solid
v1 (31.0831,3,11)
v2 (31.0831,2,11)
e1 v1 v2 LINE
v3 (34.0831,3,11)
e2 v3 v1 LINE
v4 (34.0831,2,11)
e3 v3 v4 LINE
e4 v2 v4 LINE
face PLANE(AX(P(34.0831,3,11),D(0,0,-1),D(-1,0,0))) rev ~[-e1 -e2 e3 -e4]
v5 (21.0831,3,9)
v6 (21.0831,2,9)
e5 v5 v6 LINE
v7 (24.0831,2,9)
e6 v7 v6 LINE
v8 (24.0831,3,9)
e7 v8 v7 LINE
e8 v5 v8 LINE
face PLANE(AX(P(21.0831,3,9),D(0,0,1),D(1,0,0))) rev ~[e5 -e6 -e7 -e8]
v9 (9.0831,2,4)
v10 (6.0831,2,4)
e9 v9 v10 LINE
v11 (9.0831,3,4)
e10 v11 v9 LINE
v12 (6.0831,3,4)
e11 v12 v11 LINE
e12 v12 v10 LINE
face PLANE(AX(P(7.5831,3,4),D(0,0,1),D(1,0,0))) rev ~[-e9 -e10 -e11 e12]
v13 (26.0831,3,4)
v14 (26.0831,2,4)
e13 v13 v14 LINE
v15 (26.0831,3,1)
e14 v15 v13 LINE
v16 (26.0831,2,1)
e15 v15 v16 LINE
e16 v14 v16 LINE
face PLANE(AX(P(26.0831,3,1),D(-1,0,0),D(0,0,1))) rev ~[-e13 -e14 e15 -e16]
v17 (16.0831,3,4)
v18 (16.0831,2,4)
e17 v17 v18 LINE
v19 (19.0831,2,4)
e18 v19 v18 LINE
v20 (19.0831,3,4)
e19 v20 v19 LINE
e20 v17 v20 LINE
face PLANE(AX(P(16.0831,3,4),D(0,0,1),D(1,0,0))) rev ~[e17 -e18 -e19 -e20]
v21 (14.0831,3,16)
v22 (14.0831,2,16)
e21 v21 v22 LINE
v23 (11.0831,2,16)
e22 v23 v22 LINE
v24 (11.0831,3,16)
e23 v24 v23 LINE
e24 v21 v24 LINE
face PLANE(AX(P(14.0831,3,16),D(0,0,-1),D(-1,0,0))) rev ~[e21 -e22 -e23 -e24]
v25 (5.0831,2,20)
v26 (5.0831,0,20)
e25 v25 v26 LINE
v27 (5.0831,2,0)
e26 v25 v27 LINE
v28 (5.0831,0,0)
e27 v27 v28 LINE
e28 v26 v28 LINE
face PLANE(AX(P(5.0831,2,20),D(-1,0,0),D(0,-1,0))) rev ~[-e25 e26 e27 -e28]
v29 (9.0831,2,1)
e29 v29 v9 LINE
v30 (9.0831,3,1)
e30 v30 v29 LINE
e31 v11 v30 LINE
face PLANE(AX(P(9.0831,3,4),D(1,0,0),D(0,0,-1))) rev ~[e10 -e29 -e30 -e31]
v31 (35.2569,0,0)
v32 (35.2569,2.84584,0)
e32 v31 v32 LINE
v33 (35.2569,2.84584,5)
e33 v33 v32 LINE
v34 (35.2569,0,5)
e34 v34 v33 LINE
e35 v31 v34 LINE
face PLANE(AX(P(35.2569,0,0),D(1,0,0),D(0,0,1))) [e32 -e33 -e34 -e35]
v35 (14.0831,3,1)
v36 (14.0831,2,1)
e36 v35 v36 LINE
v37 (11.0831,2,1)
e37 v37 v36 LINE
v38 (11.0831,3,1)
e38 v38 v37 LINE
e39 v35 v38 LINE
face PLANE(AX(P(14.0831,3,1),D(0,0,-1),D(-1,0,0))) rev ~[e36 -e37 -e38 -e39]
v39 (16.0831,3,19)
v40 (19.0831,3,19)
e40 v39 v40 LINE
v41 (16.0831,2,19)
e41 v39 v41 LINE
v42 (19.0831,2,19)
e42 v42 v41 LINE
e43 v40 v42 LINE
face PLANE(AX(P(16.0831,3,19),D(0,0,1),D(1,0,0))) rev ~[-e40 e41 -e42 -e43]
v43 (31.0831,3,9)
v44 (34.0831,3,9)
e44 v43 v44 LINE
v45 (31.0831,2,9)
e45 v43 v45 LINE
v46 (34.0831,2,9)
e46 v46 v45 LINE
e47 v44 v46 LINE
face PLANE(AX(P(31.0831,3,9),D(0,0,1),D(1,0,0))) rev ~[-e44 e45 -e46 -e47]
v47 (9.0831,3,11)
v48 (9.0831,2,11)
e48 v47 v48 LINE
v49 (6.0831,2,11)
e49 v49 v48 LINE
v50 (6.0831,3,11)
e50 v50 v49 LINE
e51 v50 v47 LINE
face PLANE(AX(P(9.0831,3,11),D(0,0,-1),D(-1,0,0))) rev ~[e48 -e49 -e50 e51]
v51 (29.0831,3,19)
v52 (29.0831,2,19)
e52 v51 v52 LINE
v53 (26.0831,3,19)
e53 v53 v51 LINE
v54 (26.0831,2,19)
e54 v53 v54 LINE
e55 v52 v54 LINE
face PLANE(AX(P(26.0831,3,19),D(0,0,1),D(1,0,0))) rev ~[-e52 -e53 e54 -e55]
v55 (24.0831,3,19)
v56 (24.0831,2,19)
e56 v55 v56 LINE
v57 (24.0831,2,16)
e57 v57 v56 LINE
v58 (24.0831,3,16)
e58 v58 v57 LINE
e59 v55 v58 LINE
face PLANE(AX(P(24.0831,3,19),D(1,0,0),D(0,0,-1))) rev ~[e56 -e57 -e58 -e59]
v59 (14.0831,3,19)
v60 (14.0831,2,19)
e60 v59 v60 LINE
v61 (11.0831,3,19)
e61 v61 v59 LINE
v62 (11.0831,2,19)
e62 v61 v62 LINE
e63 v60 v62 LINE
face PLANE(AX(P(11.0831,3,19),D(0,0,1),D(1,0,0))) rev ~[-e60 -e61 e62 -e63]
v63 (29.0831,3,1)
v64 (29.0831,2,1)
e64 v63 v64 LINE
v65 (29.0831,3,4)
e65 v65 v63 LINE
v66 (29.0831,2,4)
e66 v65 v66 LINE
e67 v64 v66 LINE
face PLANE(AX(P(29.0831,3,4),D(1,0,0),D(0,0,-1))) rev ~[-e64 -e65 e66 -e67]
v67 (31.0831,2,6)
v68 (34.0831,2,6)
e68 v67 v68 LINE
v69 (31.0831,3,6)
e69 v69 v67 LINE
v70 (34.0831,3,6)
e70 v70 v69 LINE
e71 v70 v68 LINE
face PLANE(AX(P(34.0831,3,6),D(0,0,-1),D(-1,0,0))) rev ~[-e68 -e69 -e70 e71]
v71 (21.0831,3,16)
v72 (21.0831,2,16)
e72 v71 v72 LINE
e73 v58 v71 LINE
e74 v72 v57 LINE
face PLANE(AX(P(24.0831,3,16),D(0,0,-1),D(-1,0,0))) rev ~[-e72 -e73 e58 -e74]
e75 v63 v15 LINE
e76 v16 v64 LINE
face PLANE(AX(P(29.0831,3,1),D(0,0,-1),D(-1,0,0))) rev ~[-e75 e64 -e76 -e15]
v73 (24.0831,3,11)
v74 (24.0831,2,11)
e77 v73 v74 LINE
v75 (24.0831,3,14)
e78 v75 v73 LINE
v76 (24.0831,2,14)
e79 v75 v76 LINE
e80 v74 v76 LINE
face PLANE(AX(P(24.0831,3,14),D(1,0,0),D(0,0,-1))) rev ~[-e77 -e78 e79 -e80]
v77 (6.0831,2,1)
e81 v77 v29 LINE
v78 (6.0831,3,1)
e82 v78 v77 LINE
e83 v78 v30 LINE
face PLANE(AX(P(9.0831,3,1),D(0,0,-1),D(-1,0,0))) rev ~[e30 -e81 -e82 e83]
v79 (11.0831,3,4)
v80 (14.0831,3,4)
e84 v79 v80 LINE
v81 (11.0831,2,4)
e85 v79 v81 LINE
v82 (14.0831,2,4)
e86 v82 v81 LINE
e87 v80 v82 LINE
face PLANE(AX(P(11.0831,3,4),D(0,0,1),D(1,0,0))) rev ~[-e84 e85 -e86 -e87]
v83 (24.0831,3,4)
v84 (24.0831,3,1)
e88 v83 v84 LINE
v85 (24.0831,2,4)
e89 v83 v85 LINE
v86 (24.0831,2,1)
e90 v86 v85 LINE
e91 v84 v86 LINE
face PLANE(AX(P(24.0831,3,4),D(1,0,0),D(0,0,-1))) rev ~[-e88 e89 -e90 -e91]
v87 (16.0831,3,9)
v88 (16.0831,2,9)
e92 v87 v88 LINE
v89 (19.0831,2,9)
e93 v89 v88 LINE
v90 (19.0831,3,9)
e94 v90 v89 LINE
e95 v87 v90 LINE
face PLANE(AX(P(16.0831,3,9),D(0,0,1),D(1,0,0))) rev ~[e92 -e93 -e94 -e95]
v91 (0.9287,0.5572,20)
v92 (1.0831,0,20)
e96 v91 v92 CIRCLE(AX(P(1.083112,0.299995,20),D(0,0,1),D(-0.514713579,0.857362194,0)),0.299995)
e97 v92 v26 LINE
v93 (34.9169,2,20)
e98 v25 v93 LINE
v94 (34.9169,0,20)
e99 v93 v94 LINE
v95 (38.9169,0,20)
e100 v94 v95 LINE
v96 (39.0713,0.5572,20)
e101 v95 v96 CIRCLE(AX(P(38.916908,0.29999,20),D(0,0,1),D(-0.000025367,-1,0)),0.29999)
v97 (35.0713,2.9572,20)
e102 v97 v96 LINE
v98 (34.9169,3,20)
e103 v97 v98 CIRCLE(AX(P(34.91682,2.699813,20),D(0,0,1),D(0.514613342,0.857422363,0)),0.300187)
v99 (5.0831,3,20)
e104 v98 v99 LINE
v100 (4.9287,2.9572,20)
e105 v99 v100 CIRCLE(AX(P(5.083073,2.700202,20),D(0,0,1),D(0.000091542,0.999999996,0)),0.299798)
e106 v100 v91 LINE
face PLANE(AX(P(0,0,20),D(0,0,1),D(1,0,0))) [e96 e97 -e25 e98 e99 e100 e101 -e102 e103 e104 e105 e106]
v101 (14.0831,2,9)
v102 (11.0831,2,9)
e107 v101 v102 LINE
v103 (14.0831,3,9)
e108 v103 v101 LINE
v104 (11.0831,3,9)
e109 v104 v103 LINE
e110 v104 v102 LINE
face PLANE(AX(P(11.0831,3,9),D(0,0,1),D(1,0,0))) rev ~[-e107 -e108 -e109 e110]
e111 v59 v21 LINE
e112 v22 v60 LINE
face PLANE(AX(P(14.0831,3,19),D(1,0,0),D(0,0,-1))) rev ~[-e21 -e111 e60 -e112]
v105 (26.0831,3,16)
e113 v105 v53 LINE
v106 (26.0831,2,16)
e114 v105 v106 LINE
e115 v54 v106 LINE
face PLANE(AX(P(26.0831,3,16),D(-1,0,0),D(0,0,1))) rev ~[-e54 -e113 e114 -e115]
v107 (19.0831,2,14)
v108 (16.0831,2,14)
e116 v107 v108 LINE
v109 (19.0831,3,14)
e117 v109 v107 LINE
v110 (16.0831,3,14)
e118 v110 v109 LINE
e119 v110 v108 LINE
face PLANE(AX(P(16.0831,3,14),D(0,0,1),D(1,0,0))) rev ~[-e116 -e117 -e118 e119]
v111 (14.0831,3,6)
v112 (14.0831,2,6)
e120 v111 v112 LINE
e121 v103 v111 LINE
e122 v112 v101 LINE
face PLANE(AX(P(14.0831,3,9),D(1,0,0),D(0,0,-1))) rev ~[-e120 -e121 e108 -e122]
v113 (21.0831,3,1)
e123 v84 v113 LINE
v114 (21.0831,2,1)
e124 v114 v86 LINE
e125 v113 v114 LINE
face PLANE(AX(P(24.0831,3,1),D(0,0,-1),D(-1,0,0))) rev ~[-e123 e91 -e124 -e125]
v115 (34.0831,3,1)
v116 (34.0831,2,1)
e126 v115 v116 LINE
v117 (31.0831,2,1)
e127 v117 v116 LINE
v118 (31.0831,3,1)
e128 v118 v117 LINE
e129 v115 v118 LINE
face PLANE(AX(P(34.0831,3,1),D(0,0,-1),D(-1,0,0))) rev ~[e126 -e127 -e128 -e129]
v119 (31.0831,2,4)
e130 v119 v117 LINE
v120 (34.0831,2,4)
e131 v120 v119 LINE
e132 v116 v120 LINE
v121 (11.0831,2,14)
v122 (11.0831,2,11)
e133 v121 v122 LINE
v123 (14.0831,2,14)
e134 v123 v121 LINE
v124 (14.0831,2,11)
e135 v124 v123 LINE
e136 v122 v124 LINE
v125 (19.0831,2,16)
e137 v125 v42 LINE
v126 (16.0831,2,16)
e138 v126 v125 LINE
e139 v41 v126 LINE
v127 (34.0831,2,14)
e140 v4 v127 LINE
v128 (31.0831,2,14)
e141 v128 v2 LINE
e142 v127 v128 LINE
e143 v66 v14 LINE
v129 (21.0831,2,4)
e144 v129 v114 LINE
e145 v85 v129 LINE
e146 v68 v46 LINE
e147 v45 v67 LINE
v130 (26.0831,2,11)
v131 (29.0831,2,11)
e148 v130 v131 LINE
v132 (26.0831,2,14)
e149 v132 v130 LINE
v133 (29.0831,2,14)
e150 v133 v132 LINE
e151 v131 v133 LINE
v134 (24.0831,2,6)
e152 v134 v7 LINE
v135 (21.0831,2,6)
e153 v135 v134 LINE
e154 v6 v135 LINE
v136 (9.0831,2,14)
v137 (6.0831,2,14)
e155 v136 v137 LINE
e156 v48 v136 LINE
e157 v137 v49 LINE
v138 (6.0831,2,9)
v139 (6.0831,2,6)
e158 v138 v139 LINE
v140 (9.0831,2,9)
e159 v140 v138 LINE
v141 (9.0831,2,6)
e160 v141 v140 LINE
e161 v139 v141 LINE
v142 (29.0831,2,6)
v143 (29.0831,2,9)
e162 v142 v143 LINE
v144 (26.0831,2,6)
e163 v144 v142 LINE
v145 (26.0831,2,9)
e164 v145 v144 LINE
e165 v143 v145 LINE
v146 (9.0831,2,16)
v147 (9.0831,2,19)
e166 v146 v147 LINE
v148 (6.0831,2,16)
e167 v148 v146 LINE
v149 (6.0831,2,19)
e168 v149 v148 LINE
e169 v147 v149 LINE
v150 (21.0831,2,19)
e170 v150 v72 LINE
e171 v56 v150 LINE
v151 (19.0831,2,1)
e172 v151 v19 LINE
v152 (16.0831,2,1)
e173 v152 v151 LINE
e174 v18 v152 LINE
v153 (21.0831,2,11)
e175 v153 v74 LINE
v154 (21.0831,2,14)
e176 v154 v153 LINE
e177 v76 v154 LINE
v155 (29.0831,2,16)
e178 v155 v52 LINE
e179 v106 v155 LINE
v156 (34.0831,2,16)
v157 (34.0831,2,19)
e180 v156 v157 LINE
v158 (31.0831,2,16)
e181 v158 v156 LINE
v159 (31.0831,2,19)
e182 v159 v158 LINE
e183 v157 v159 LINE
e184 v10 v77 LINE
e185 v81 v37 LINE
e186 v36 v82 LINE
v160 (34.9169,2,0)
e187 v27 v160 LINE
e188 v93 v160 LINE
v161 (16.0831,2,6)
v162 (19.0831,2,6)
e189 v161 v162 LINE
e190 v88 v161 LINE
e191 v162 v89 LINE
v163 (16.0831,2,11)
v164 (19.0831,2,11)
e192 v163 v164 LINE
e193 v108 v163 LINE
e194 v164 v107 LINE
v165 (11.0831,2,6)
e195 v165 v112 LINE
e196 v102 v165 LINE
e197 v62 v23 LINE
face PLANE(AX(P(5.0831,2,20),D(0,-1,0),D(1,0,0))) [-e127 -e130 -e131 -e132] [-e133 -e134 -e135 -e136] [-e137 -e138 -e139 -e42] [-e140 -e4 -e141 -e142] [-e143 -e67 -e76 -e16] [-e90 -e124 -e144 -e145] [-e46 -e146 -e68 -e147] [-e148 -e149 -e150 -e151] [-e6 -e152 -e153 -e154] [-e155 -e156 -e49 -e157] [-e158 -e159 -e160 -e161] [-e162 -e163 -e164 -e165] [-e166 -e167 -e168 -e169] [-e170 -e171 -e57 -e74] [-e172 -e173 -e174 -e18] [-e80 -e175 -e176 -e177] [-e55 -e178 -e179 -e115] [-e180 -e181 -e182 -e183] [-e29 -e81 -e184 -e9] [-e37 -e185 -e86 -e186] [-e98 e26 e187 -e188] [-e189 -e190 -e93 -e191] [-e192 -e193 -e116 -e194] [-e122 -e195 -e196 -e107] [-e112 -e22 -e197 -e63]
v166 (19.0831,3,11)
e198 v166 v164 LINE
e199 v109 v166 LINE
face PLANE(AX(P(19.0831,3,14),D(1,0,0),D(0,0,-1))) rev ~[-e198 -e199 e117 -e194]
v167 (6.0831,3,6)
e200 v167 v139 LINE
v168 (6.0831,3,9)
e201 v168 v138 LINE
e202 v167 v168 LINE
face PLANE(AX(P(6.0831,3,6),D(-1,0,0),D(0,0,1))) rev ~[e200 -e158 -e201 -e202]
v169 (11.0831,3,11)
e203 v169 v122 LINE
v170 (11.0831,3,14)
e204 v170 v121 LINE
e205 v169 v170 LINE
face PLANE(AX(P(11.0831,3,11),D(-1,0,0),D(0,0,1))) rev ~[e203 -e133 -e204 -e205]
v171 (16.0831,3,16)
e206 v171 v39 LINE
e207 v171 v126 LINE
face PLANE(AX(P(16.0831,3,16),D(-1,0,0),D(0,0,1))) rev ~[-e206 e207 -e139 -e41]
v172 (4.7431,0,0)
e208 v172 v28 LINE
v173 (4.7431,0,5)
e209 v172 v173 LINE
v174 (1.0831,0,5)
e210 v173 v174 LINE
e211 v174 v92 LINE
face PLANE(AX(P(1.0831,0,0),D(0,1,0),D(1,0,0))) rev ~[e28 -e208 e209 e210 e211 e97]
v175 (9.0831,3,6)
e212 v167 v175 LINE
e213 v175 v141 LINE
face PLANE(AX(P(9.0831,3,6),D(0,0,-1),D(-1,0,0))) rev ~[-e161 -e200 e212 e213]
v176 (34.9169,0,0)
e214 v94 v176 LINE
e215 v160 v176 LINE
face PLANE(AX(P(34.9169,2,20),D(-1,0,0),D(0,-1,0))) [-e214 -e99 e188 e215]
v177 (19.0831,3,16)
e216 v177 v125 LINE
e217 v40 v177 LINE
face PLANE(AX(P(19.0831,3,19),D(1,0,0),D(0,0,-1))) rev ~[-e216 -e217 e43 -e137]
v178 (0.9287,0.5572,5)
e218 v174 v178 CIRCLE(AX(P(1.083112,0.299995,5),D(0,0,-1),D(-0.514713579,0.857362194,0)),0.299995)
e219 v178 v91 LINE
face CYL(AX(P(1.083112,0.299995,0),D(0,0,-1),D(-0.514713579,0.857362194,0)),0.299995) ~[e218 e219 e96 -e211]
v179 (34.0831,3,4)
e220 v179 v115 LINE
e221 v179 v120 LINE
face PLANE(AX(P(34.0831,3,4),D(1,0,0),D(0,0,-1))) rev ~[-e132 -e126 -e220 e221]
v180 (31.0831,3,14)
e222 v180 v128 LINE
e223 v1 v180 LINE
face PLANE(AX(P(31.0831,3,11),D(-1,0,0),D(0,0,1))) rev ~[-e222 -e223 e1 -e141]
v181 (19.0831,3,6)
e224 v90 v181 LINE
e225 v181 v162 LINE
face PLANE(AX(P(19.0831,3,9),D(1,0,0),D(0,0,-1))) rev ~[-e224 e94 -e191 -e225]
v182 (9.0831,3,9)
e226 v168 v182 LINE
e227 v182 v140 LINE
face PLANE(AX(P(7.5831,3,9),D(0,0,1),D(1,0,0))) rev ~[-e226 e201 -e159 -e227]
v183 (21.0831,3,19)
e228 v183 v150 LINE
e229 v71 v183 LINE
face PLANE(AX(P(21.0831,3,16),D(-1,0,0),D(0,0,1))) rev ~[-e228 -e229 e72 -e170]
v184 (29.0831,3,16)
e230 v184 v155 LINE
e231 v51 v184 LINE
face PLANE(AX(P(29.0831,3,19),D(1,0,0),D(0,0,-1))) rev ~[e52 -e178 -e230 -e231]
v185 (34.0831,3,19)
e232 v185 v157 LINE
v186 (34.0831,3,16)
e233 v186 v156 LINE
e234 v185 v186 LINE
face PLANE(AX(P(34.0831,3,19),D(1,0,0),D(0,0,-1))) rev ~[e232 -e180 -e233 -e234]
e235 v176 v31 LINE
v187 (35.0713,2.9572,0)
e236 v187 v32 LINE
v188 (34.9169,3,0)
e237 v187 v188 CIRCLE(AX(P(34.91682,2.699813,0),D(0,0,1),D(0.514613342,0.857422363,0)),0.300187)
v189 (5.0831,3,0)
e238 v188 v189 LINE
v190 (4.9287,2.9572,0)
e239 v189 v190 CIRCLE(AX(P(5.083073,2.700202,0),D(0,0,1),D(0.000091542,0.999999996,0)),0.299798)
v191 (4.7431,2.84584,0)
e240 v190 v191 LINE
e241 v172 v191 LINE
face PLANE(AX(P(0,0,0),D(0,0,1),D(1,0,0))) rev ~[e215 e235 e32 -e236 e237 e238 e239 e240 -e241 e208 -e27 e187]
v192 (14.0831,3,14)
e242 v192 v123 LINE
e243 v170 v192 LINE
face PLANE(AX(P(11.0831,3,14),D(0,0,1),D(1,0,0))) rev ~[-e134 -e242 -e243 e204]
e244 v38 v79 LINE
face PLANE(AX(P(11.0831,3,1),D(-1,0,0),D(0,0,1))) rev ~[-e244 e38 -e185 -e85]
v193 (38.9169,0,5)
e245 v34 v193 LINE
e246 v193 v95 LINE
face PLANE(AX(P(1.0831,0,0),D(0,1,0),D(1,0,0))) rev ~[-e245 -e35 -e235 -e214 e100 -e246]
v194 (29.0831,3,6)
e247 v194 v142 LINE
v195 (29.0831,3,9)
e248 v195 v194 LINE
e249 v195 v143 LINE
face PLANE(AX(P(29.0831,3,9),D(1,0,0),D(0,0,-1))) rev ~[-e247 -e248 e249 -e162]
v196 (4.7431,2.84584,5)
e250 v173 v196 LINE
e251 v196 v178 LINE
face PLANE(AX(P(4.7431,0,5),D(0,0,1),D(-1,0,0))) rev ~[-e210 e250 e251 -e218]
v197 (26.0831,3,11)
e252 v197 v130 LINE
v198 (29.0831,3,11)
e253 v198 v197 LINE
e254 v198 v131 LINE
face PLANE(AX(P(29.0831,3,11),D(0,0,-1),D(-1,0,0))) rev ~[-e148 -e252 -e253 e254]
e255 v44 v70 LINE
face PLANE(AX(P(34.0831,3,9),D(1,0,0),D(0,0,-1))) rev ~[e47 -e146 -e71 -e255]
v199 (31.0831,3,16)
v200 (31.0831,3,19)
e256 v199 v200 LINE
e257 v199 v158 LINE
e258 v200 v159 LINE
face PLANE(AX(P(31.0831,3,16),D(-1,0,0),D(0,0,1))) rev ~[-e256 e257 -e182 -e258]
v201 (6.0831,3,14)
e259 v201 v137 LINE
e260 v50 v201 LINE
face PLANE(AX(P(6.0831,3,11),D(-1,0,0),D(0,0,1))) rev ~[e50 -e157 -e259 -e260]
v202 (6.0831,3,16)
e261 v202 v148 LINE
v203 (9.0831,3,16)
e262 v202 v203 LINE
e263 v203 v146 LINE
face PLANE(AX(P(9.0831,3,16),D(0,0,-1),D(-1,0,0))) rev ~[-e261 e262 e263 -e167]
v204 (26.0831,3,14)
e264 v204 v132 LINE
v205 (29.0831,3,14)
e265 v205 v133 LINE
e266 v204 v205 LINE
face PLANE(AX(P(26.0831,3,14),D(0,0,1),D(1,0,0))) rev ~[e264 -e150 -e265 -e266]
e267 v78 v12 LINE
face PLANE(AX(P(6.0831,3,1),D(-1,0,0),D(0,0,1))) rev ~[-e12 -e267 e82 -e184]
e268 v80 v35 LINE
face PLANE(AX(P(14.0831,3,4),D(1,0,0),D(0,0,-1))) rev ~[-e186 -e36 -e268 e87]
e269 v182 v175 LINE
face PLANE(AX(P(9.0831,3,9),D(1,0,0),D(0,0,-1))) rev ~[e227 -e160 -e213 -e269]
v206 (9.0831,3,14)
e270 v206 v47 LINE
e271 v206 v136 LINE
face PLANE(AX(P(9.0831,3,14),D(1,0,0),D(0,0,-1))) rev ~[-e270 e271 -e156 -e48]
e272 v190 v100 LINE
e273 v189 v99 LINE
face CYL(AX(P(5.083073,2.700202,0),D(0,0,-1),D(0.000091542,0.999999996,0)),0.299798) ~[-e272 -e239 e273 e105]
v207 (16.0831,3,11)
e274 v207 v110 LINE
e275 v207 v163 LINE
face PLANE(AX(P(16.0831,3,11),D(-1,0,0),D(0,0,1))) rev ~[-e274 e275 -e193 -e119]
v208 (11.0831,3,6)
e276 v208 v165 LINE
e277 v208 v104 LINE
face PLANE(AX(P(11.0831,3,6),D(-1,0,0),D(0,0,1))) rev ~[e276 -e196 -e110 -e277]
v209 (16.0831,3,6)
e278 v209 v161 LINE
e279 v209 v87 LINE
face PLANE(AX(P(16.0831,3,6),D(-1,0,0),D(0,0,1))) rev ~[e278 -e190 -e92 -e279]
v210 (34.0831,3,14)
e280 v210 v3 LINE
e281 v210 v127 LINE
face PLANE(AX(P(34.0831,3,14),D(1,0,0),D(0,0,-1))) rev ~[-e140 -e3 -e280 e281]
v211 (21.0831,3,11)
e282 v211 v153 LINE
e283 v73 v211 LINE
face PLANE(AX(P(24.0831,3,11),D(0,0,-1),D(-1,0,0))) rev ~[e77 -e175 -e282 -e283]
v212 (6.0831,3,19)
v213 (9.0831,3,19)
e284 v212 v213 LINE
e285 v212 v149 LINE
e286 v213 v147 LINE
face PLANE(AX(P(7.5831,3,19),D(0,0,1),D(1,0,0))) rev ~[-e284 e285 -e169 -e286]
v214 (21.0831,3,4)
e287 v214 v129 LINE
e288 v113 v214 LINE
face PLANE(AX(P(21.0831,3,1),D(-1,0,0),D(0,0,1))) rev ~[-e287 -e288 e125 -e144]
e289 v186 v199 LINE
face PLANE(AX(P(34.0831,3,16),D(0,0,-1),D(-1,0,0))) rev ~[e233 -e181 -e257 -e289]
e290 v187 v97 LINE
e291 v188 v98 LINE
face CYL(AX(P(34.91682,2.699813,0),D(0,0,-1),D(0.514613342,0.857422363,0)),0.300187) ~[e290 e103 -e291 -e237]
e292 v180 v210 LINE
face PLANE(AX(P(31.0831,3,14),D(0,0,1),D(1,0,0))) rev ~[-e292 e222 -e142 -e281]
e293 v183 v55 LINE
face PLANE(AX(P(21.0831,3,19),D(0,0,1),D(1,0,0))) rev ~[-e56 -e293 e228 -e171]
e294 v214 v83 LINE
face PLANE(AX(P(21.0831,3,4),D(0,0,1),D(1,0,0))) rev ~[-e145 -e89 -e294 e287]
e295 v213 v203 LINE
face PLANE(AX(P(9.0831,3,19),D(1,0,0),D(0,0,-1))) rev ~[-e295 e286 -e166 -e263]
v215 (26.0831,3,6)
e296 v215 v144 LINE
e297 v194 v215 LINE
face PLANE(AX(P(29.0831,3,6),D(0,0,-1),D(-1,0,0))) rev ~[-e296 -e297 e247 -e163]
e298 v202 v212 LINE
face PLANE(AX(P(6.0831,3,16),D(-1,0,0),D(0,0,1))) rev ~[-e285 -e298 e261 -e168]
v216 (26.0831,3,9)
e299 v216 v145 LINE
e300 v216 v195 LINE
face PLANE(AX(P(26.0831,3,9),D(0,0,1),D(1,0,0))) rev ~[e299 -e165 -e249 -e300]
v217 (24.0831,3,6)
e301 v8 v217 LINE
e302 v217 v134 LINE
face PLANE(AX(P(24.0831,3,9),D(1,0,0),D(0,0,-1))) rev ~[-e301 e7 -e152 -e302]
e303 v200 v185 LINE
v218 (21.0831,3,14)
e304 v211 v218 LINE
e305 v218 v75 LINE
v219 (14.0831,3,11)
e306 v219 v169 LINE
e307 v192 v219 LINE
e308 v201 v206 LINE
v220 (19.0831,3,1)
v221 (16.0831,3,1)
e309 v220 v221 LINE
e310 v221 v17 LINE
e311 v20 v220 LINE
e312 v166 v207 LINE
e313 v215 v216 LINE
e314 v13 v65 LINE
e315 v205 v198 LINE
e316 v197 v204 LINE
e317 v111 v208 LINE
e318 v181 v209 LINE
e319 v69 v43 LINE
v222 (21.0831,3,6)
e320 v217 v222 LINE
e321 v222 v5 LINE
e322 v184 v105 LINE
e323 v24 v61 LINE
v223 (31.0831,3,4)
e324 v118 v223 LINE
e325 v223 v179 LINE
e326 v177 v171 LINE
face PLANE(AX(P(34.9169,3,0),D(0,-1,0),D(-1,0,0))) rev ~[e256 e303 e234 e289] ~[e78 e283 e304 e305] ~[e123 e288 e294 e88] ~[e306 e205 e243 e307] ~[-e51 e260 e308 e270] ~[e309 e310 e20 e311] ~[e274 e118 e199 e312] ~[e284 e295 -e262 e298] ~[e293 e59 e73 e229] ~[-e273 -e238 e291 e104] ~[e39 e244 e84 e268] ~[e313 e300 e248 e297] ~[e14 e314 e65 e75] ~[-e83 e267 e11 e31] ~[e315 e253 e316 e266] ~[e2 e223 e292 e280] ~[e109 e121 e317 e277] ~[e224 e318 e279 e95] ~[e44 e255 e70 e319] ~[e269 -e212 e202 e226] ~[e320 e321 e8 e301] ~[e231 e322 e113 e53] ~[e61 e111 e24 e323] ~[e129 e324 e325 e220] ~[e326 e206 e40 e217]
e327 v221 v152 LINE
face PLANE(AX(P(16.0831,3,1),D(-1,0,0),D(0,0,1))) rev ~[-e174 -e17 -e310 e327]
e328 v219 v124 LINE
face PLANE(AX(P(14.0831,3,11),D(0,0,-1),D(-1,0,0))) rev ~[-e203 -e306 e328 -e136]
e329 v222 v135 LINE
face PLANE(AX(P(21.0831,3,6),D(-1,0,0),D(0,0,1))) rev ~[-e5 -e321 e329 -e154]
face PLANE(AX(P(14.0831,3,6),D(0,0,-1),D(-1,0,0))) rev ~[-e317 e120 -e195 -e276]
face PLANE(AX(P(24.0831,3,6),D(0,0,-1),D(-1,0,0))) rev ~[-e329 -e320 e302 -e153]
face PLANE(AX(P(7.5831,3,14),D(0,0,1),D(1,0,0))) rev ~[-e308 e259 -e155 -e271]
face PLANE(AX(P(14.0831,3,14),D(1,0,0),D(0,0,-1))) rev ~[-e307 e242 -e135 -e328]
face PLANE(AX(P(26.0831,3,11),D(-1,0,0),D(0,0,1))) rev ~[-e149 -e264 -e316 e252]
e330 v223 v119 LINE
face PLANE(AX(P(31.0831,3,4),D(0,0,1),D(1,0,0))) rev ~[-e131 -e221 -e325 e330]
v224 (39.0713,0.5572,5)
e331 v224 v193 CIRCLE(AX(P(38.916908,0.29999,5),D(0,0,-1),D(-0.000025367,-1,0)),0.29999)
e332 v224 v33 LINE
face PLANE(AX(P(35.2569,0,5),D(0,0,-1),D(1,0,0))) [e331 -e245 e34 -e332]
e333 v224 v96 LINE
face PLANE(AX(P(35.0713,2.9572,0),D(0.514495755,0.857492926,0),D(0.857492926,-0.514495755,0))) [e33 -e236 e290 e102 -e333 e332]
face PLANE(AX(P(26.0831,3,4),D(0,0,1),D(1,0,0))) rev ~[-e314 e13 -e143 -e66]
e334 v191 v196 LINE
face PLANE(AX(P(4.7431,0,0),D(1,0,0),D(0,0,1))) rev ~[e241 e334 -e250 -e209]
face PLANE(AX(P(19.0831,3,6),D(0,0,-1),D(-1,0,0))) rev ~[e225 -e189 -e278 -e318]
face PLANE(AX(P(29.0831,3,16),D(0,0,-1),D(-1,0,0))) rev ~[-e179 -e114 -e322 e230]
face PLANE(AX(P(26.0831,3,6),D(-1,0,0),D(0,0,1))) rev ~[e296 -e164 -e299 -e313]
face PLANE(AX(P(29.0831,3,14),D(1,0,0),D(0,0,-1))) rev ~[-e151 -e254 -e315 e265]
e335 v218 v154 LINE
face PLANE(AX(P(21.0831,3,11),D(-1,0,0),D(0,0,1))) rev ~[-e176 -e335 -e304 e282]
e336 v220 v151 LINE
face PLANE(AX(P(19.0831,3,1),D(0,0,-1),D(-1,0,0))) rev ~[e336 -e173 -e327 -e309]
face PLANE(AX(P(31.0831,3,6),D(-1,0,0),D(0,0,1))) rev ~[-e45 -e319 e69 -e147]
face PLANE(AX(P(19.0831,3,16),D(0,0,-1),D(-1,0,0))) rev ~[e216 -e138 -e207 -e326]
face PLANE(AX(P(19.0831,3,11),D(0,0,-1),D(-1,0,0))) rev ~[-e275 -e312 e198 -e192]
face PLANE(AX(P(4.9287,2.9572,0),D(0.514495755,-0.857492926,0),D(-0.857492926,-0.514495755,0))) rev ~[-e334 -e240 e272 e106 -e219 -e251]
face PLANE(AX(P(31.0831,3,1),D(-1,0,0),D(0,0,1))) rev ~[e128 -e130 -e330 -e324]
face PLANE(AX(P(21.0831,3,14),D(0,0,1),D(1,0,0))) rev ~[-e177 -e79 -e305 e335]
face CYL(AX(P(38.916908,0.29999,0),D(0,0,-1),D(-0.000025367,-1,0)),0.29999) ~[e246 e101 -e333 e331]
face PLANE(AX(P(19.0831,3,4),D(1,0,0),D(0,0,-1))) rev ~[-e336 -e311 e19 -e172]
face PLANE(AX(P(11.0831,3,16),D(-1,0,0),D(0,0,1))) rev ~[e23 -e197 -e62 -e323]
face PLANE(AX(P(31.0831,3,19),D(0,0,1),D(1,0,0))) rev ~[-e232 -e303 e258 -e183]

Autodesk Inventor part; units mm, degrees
ref_plane "YZ Plane" through (0, 0, 0) normal (1, 0, 0) x (0, 1, 0)
ref_plane "XZ Plane" through (0, 0, 0) normal (0, 1, 0) x (-1, 0, 0)
ref_plane "XY Plane" through (0, 0, 0) normal (0, 0, 1) x (1, 0, 0)
sketch "Sketch1" plane through (0, 0, 0) normal (0, 0, 1) x (1, 0, 0)
  line L0 (1.0831, 0) -> (38.9169, 0)
  line L1 (40, 0) -> (40, 3)
  line L2 (34.9169, 3) -> (5.0831, 3)
  line L3 (0, 3) -> (0, 0)
  line L4 (0, 0) -> (0, 3)
  line L5 (0, 3) -> (5, 3)
  line L6 (4.9287, 2.9572) -> (0.9287, 0.5572)
  line L7 (40, 3) -> (35, 3)
  line L8 (35.0713, 2.9572) -> (39.0713, 0.5572)
  arc A0 (5.0831, 3) -> (4.9287, 2.9572) centre (5.0831, 2.7) ccw
  arc A1 (0.9287, 0.5572) -> (1.0831, 0) centre (1.0831, 0.3) ccw
  arc A2 (35.0713, 2.9572) -> (34.9169, 3) centre (34.9169, 2.7) ccw
  arc A3 (38.9169, 0) -> (39.0713, 0.5572) centre (38.9169, 0.3) ccw
  dimension "d0" = 40
  dimension "d1" = 3
  dimension "d2" = 5
  dimension "d3" = 5
  dimension "d6" = 0.3
extrude "Extrusion1" add sketch "Sketch1" along normal blind 20
sketch "Sketch2" plane through (0, 0, 20) normal (0, 0, 1) x (1, 0, 0)
  line L0 (34.9169, 3) -> (5.0831, 3) projected
  line L1 (5.0831, 3) -> (5.0831, 2)
  line L2 (5.0831, 2) -> (34.9169, 2)
  line L3 (34.9169, 2) -> (34.9169, 3)
  line L4 (5.0831, 2) -> (5.0831, 0)
  line L5 (1.0831, 0) -> (38.9169, 0) projected
  line L6 (34.9169, 2) -> (34.9169, 0)
  line L7 (5.0831, 2) -> (34.9169, 2)
  line L8 (34.9169, 2) -> (34.9169, 0)
  line L9 (34.9169, 0) -> (5.0831, 0)
  line L10 (5.0831, 0) -> (5.0831, 2)
  point P0 (0, 0)
  dimension "d7" = 1
extrude "Extrusion2" cut sketch "Sketch2" against normal through all contours L6 L5 L4 L2
sketch "Sketch3" plane through (5.0831, 3, 0) normal (0, 1, 0) x (1, 0, 0)
  line L0 (29.8338, 0) -> (0, 0) projected
  line L1 (0, 0) -> (5, 0)
  line L2 (2.5, 0) -> (2.5, -20)
  line L3 (29.8338, -20) -> (0, -20) projected
  line L4 (2.5, 0) -> (2.5, -5)
  line L5 (1, -4) -> (4, -4)
  line L6 (4, -4) -> (4, -1)
  line L7 (4, -1) -> (1, -1)
  line L8 (1, -1) -> (1, -4)
  line L9 (1, -4) -> (4, -1) construction
  line L10 (4, -4) -> (1, -1) construction
  line L11 (9, -1) -> (6, -1)
  line L12 (9, -4) -> (9, -1)
  line L13 (6, -1) -> (6, -4)
  line L14 (6, -4) -> (9, -4)
  line L15 (14, -1) -> (11, -1)
  line L16 (14, -4) -> (14, -1)
  line L17 (11, -1) -> (11, -4)
  line L18 (11, -4) -> (14, -4)
  line L19 (19, -1) -> (16, -1)
  line L20 (19, -4) -> (19, -1)
  line L21 (16, -1) -> (16, -4)
  line L22 (16, -4) -> (19, -4)
  line L23 (24, -1) -> (21, -1)
  line L24 (24, -4) -> (24, -1)
  line L25 (21, -1) -> (21, -4)
  line L26 (21, -4) -> (24, -4)
  line L27 (29, -1) -> (26, -1)
  line L28 (29, -4) -> (29, -1)
  line L29 (26, -1) -> (26, -4)
  line L30 (26, -4) -> (29, -4)
  line L31 (4, -6) -> (1, -6)
  line L32 (4, -9) -> (4, -6)
  line L33 (1, -6) -> (1, -9)
  line L34 (1, -9) -> (4, -9)
  line L35 (9, -6) -> (6, -6)
  line L36 (9, -9) -> (9, -6)
  line L37 (6, -6) -> (6, -9)
  line L38 (6, -9) -> (9, -9)
  line L39 (14, -6) -> (11, -6)
  line L40 (14, -9) -> (14, -6)
  line L41 (11, -6) -> (11, -9)
  line L42 (11, -9) -> (14, -9)
  line L43 (19, -6) -> (16, -6)
  line L44 (19, -9) -> (19, -6)
  line L45 (16, -6) -> (16, -9)
  line L46 (16, -9) -> (19, -9)
  line L47 (24, -6) -> (21, -6)
  line L48 (24, -9) -> (24, -6)
  line L49 (21, -6) -> (21, -9)
  line L50 (21, -9) -> (24, -9)
  line L51 (29, -6) -> (26, -6)
  line L52 (29, -9) -> (29, -6)
  line L53 (26, -6) -> (26, -9)
  line L54 (26, -9) -> (29, -9)
  line L55 (4, -11) -> (1, -11)
  line L56 (4, -14) -> (4, -11)
  line L57 (1, -11) -> (1, -14)
  line L58 (1, -14) -> (4, -14)
  line L59 (9, -11) -> (6, -11)
  line L60 (9, -14) -> (9, -11)
  line L61 (6, -11) -> (6, -14)
  line L62 (6, -14) -> (9, -14)
  line L63 (14, -11) -> (11, -11)
  line L64 (14, -14) -> (14, -11)
  line L65 (11, -11) -> (11, -14)
  line L66 (11, -14) -> (14, -14)
  line L67 (19, -11) -> (16, -11)
  line L68 (19, -14) -> (19, -11)
  line L69 (16, -11) -> (16, -14)
  line L70 (16, -14) -> (19, -14)
  line L71 (24, -11) -> (21, -11)
  line L72 (24, -14) -> (24, -11)
  line L73 (21, -11) -> (21, -14)
  line L74 (21, -14) -> (24, -14)
  line L75 (29, -11) -> (26, -11)
  line L76 (29, -14) -> (29, -11)
  line L77 (26, -11) -> (26, -14)
  line L78 (26, -14) -> (29, -14)
  line L79 (4, -16) -> (1, -16)
  line L80 (4, -19) -> (4, -16)
  line L81 (1, -16) -> (1, -19)
  line L82 (1, -19) -> (4, -19)
  line L83 (9, -16) -> (6, -16)
  line L84 (9, -19) -> (9, -16)
  line L85 (6, -16) -> (6, -19)
  line L86 (6, -19) -> (9, -19)
  line L87 (14, -16) -> (11, -16)
  line L88 (14, -19) -> (14, -16)
  line L89 (11, -16) -> (11, -19)
  line L90 (11, -19) -> (14, -19)
  line L91 (19, -16) -> (16, -16)
  line L92 (19, -19) -> (19, -16)
  line L93 (16, -16) -> (16, -19)
  line L94 (16, -19) -> (19, -19)
  line L95 (24, -16) -> (21, -16)
  line L96 (24, -19) -> (24, -16)
  line L97 (21, -16) -> (21, -19)
  line L98 (21, -19) -> (24, -19)
  line L99 (29, -16) -> (26, -16)
  line L100 (29, -19) -> (29, -16)
  line L101 (26, -16) -> (26, -19)
  line L102 (26, -19) -> (29, -19)
  point P0 (-5.0831, 0)
  point P1 (2.5, -2.5)
  dimension "d10" = 5
  dimension "d11" = 5
  dimension "d12" = 3
  dimension "d13" = 3
  dimension "d16" = 5
  dimension "d19" = 5
extrude "Extrusion3" cut sketch "Sketch3" against normal blind 2
sketch "Sketch4" plane through (38.9169, 0, 0) normal (0, -1, 0) x (1, 0, 0)
  line L0 (-37.8338, 0) -> (-38.1338, 0) projected
  line L1 (-38.1338, 0) -> (-34.1738, 0)
  line L2 (-34.1738, 0) -> (-34.1738, 5)
  line L3 (-34.1738, 5) -> (-38.1338, 5)
  line L4 (-38.1338, 5) -> (-38.1338, 0)
  line L5 (0.3, 0) -> (0.3, 20) projected
  line L6 (0.3, 0) -> (-3.66, 0)
  line L7 (-3.66, 0) -> (-3.66, 5)
  line L8 (-3.66, 5) -> (0.3, 5)
  line L9 (0.3, 5) -> (0.3, 0)
  point P0 (-38.9169, 0)
  point P1 (-37.9882, 0)
  dimension "d24" = 3.96
  dimension "d25" = 5
  dimension "d26" = 3.96
  dimension "d27" = 5
extrude "Extrusion4" cut sketch "Sketch4" against normal through all
properties part number "MainPhalange_grip_support"
